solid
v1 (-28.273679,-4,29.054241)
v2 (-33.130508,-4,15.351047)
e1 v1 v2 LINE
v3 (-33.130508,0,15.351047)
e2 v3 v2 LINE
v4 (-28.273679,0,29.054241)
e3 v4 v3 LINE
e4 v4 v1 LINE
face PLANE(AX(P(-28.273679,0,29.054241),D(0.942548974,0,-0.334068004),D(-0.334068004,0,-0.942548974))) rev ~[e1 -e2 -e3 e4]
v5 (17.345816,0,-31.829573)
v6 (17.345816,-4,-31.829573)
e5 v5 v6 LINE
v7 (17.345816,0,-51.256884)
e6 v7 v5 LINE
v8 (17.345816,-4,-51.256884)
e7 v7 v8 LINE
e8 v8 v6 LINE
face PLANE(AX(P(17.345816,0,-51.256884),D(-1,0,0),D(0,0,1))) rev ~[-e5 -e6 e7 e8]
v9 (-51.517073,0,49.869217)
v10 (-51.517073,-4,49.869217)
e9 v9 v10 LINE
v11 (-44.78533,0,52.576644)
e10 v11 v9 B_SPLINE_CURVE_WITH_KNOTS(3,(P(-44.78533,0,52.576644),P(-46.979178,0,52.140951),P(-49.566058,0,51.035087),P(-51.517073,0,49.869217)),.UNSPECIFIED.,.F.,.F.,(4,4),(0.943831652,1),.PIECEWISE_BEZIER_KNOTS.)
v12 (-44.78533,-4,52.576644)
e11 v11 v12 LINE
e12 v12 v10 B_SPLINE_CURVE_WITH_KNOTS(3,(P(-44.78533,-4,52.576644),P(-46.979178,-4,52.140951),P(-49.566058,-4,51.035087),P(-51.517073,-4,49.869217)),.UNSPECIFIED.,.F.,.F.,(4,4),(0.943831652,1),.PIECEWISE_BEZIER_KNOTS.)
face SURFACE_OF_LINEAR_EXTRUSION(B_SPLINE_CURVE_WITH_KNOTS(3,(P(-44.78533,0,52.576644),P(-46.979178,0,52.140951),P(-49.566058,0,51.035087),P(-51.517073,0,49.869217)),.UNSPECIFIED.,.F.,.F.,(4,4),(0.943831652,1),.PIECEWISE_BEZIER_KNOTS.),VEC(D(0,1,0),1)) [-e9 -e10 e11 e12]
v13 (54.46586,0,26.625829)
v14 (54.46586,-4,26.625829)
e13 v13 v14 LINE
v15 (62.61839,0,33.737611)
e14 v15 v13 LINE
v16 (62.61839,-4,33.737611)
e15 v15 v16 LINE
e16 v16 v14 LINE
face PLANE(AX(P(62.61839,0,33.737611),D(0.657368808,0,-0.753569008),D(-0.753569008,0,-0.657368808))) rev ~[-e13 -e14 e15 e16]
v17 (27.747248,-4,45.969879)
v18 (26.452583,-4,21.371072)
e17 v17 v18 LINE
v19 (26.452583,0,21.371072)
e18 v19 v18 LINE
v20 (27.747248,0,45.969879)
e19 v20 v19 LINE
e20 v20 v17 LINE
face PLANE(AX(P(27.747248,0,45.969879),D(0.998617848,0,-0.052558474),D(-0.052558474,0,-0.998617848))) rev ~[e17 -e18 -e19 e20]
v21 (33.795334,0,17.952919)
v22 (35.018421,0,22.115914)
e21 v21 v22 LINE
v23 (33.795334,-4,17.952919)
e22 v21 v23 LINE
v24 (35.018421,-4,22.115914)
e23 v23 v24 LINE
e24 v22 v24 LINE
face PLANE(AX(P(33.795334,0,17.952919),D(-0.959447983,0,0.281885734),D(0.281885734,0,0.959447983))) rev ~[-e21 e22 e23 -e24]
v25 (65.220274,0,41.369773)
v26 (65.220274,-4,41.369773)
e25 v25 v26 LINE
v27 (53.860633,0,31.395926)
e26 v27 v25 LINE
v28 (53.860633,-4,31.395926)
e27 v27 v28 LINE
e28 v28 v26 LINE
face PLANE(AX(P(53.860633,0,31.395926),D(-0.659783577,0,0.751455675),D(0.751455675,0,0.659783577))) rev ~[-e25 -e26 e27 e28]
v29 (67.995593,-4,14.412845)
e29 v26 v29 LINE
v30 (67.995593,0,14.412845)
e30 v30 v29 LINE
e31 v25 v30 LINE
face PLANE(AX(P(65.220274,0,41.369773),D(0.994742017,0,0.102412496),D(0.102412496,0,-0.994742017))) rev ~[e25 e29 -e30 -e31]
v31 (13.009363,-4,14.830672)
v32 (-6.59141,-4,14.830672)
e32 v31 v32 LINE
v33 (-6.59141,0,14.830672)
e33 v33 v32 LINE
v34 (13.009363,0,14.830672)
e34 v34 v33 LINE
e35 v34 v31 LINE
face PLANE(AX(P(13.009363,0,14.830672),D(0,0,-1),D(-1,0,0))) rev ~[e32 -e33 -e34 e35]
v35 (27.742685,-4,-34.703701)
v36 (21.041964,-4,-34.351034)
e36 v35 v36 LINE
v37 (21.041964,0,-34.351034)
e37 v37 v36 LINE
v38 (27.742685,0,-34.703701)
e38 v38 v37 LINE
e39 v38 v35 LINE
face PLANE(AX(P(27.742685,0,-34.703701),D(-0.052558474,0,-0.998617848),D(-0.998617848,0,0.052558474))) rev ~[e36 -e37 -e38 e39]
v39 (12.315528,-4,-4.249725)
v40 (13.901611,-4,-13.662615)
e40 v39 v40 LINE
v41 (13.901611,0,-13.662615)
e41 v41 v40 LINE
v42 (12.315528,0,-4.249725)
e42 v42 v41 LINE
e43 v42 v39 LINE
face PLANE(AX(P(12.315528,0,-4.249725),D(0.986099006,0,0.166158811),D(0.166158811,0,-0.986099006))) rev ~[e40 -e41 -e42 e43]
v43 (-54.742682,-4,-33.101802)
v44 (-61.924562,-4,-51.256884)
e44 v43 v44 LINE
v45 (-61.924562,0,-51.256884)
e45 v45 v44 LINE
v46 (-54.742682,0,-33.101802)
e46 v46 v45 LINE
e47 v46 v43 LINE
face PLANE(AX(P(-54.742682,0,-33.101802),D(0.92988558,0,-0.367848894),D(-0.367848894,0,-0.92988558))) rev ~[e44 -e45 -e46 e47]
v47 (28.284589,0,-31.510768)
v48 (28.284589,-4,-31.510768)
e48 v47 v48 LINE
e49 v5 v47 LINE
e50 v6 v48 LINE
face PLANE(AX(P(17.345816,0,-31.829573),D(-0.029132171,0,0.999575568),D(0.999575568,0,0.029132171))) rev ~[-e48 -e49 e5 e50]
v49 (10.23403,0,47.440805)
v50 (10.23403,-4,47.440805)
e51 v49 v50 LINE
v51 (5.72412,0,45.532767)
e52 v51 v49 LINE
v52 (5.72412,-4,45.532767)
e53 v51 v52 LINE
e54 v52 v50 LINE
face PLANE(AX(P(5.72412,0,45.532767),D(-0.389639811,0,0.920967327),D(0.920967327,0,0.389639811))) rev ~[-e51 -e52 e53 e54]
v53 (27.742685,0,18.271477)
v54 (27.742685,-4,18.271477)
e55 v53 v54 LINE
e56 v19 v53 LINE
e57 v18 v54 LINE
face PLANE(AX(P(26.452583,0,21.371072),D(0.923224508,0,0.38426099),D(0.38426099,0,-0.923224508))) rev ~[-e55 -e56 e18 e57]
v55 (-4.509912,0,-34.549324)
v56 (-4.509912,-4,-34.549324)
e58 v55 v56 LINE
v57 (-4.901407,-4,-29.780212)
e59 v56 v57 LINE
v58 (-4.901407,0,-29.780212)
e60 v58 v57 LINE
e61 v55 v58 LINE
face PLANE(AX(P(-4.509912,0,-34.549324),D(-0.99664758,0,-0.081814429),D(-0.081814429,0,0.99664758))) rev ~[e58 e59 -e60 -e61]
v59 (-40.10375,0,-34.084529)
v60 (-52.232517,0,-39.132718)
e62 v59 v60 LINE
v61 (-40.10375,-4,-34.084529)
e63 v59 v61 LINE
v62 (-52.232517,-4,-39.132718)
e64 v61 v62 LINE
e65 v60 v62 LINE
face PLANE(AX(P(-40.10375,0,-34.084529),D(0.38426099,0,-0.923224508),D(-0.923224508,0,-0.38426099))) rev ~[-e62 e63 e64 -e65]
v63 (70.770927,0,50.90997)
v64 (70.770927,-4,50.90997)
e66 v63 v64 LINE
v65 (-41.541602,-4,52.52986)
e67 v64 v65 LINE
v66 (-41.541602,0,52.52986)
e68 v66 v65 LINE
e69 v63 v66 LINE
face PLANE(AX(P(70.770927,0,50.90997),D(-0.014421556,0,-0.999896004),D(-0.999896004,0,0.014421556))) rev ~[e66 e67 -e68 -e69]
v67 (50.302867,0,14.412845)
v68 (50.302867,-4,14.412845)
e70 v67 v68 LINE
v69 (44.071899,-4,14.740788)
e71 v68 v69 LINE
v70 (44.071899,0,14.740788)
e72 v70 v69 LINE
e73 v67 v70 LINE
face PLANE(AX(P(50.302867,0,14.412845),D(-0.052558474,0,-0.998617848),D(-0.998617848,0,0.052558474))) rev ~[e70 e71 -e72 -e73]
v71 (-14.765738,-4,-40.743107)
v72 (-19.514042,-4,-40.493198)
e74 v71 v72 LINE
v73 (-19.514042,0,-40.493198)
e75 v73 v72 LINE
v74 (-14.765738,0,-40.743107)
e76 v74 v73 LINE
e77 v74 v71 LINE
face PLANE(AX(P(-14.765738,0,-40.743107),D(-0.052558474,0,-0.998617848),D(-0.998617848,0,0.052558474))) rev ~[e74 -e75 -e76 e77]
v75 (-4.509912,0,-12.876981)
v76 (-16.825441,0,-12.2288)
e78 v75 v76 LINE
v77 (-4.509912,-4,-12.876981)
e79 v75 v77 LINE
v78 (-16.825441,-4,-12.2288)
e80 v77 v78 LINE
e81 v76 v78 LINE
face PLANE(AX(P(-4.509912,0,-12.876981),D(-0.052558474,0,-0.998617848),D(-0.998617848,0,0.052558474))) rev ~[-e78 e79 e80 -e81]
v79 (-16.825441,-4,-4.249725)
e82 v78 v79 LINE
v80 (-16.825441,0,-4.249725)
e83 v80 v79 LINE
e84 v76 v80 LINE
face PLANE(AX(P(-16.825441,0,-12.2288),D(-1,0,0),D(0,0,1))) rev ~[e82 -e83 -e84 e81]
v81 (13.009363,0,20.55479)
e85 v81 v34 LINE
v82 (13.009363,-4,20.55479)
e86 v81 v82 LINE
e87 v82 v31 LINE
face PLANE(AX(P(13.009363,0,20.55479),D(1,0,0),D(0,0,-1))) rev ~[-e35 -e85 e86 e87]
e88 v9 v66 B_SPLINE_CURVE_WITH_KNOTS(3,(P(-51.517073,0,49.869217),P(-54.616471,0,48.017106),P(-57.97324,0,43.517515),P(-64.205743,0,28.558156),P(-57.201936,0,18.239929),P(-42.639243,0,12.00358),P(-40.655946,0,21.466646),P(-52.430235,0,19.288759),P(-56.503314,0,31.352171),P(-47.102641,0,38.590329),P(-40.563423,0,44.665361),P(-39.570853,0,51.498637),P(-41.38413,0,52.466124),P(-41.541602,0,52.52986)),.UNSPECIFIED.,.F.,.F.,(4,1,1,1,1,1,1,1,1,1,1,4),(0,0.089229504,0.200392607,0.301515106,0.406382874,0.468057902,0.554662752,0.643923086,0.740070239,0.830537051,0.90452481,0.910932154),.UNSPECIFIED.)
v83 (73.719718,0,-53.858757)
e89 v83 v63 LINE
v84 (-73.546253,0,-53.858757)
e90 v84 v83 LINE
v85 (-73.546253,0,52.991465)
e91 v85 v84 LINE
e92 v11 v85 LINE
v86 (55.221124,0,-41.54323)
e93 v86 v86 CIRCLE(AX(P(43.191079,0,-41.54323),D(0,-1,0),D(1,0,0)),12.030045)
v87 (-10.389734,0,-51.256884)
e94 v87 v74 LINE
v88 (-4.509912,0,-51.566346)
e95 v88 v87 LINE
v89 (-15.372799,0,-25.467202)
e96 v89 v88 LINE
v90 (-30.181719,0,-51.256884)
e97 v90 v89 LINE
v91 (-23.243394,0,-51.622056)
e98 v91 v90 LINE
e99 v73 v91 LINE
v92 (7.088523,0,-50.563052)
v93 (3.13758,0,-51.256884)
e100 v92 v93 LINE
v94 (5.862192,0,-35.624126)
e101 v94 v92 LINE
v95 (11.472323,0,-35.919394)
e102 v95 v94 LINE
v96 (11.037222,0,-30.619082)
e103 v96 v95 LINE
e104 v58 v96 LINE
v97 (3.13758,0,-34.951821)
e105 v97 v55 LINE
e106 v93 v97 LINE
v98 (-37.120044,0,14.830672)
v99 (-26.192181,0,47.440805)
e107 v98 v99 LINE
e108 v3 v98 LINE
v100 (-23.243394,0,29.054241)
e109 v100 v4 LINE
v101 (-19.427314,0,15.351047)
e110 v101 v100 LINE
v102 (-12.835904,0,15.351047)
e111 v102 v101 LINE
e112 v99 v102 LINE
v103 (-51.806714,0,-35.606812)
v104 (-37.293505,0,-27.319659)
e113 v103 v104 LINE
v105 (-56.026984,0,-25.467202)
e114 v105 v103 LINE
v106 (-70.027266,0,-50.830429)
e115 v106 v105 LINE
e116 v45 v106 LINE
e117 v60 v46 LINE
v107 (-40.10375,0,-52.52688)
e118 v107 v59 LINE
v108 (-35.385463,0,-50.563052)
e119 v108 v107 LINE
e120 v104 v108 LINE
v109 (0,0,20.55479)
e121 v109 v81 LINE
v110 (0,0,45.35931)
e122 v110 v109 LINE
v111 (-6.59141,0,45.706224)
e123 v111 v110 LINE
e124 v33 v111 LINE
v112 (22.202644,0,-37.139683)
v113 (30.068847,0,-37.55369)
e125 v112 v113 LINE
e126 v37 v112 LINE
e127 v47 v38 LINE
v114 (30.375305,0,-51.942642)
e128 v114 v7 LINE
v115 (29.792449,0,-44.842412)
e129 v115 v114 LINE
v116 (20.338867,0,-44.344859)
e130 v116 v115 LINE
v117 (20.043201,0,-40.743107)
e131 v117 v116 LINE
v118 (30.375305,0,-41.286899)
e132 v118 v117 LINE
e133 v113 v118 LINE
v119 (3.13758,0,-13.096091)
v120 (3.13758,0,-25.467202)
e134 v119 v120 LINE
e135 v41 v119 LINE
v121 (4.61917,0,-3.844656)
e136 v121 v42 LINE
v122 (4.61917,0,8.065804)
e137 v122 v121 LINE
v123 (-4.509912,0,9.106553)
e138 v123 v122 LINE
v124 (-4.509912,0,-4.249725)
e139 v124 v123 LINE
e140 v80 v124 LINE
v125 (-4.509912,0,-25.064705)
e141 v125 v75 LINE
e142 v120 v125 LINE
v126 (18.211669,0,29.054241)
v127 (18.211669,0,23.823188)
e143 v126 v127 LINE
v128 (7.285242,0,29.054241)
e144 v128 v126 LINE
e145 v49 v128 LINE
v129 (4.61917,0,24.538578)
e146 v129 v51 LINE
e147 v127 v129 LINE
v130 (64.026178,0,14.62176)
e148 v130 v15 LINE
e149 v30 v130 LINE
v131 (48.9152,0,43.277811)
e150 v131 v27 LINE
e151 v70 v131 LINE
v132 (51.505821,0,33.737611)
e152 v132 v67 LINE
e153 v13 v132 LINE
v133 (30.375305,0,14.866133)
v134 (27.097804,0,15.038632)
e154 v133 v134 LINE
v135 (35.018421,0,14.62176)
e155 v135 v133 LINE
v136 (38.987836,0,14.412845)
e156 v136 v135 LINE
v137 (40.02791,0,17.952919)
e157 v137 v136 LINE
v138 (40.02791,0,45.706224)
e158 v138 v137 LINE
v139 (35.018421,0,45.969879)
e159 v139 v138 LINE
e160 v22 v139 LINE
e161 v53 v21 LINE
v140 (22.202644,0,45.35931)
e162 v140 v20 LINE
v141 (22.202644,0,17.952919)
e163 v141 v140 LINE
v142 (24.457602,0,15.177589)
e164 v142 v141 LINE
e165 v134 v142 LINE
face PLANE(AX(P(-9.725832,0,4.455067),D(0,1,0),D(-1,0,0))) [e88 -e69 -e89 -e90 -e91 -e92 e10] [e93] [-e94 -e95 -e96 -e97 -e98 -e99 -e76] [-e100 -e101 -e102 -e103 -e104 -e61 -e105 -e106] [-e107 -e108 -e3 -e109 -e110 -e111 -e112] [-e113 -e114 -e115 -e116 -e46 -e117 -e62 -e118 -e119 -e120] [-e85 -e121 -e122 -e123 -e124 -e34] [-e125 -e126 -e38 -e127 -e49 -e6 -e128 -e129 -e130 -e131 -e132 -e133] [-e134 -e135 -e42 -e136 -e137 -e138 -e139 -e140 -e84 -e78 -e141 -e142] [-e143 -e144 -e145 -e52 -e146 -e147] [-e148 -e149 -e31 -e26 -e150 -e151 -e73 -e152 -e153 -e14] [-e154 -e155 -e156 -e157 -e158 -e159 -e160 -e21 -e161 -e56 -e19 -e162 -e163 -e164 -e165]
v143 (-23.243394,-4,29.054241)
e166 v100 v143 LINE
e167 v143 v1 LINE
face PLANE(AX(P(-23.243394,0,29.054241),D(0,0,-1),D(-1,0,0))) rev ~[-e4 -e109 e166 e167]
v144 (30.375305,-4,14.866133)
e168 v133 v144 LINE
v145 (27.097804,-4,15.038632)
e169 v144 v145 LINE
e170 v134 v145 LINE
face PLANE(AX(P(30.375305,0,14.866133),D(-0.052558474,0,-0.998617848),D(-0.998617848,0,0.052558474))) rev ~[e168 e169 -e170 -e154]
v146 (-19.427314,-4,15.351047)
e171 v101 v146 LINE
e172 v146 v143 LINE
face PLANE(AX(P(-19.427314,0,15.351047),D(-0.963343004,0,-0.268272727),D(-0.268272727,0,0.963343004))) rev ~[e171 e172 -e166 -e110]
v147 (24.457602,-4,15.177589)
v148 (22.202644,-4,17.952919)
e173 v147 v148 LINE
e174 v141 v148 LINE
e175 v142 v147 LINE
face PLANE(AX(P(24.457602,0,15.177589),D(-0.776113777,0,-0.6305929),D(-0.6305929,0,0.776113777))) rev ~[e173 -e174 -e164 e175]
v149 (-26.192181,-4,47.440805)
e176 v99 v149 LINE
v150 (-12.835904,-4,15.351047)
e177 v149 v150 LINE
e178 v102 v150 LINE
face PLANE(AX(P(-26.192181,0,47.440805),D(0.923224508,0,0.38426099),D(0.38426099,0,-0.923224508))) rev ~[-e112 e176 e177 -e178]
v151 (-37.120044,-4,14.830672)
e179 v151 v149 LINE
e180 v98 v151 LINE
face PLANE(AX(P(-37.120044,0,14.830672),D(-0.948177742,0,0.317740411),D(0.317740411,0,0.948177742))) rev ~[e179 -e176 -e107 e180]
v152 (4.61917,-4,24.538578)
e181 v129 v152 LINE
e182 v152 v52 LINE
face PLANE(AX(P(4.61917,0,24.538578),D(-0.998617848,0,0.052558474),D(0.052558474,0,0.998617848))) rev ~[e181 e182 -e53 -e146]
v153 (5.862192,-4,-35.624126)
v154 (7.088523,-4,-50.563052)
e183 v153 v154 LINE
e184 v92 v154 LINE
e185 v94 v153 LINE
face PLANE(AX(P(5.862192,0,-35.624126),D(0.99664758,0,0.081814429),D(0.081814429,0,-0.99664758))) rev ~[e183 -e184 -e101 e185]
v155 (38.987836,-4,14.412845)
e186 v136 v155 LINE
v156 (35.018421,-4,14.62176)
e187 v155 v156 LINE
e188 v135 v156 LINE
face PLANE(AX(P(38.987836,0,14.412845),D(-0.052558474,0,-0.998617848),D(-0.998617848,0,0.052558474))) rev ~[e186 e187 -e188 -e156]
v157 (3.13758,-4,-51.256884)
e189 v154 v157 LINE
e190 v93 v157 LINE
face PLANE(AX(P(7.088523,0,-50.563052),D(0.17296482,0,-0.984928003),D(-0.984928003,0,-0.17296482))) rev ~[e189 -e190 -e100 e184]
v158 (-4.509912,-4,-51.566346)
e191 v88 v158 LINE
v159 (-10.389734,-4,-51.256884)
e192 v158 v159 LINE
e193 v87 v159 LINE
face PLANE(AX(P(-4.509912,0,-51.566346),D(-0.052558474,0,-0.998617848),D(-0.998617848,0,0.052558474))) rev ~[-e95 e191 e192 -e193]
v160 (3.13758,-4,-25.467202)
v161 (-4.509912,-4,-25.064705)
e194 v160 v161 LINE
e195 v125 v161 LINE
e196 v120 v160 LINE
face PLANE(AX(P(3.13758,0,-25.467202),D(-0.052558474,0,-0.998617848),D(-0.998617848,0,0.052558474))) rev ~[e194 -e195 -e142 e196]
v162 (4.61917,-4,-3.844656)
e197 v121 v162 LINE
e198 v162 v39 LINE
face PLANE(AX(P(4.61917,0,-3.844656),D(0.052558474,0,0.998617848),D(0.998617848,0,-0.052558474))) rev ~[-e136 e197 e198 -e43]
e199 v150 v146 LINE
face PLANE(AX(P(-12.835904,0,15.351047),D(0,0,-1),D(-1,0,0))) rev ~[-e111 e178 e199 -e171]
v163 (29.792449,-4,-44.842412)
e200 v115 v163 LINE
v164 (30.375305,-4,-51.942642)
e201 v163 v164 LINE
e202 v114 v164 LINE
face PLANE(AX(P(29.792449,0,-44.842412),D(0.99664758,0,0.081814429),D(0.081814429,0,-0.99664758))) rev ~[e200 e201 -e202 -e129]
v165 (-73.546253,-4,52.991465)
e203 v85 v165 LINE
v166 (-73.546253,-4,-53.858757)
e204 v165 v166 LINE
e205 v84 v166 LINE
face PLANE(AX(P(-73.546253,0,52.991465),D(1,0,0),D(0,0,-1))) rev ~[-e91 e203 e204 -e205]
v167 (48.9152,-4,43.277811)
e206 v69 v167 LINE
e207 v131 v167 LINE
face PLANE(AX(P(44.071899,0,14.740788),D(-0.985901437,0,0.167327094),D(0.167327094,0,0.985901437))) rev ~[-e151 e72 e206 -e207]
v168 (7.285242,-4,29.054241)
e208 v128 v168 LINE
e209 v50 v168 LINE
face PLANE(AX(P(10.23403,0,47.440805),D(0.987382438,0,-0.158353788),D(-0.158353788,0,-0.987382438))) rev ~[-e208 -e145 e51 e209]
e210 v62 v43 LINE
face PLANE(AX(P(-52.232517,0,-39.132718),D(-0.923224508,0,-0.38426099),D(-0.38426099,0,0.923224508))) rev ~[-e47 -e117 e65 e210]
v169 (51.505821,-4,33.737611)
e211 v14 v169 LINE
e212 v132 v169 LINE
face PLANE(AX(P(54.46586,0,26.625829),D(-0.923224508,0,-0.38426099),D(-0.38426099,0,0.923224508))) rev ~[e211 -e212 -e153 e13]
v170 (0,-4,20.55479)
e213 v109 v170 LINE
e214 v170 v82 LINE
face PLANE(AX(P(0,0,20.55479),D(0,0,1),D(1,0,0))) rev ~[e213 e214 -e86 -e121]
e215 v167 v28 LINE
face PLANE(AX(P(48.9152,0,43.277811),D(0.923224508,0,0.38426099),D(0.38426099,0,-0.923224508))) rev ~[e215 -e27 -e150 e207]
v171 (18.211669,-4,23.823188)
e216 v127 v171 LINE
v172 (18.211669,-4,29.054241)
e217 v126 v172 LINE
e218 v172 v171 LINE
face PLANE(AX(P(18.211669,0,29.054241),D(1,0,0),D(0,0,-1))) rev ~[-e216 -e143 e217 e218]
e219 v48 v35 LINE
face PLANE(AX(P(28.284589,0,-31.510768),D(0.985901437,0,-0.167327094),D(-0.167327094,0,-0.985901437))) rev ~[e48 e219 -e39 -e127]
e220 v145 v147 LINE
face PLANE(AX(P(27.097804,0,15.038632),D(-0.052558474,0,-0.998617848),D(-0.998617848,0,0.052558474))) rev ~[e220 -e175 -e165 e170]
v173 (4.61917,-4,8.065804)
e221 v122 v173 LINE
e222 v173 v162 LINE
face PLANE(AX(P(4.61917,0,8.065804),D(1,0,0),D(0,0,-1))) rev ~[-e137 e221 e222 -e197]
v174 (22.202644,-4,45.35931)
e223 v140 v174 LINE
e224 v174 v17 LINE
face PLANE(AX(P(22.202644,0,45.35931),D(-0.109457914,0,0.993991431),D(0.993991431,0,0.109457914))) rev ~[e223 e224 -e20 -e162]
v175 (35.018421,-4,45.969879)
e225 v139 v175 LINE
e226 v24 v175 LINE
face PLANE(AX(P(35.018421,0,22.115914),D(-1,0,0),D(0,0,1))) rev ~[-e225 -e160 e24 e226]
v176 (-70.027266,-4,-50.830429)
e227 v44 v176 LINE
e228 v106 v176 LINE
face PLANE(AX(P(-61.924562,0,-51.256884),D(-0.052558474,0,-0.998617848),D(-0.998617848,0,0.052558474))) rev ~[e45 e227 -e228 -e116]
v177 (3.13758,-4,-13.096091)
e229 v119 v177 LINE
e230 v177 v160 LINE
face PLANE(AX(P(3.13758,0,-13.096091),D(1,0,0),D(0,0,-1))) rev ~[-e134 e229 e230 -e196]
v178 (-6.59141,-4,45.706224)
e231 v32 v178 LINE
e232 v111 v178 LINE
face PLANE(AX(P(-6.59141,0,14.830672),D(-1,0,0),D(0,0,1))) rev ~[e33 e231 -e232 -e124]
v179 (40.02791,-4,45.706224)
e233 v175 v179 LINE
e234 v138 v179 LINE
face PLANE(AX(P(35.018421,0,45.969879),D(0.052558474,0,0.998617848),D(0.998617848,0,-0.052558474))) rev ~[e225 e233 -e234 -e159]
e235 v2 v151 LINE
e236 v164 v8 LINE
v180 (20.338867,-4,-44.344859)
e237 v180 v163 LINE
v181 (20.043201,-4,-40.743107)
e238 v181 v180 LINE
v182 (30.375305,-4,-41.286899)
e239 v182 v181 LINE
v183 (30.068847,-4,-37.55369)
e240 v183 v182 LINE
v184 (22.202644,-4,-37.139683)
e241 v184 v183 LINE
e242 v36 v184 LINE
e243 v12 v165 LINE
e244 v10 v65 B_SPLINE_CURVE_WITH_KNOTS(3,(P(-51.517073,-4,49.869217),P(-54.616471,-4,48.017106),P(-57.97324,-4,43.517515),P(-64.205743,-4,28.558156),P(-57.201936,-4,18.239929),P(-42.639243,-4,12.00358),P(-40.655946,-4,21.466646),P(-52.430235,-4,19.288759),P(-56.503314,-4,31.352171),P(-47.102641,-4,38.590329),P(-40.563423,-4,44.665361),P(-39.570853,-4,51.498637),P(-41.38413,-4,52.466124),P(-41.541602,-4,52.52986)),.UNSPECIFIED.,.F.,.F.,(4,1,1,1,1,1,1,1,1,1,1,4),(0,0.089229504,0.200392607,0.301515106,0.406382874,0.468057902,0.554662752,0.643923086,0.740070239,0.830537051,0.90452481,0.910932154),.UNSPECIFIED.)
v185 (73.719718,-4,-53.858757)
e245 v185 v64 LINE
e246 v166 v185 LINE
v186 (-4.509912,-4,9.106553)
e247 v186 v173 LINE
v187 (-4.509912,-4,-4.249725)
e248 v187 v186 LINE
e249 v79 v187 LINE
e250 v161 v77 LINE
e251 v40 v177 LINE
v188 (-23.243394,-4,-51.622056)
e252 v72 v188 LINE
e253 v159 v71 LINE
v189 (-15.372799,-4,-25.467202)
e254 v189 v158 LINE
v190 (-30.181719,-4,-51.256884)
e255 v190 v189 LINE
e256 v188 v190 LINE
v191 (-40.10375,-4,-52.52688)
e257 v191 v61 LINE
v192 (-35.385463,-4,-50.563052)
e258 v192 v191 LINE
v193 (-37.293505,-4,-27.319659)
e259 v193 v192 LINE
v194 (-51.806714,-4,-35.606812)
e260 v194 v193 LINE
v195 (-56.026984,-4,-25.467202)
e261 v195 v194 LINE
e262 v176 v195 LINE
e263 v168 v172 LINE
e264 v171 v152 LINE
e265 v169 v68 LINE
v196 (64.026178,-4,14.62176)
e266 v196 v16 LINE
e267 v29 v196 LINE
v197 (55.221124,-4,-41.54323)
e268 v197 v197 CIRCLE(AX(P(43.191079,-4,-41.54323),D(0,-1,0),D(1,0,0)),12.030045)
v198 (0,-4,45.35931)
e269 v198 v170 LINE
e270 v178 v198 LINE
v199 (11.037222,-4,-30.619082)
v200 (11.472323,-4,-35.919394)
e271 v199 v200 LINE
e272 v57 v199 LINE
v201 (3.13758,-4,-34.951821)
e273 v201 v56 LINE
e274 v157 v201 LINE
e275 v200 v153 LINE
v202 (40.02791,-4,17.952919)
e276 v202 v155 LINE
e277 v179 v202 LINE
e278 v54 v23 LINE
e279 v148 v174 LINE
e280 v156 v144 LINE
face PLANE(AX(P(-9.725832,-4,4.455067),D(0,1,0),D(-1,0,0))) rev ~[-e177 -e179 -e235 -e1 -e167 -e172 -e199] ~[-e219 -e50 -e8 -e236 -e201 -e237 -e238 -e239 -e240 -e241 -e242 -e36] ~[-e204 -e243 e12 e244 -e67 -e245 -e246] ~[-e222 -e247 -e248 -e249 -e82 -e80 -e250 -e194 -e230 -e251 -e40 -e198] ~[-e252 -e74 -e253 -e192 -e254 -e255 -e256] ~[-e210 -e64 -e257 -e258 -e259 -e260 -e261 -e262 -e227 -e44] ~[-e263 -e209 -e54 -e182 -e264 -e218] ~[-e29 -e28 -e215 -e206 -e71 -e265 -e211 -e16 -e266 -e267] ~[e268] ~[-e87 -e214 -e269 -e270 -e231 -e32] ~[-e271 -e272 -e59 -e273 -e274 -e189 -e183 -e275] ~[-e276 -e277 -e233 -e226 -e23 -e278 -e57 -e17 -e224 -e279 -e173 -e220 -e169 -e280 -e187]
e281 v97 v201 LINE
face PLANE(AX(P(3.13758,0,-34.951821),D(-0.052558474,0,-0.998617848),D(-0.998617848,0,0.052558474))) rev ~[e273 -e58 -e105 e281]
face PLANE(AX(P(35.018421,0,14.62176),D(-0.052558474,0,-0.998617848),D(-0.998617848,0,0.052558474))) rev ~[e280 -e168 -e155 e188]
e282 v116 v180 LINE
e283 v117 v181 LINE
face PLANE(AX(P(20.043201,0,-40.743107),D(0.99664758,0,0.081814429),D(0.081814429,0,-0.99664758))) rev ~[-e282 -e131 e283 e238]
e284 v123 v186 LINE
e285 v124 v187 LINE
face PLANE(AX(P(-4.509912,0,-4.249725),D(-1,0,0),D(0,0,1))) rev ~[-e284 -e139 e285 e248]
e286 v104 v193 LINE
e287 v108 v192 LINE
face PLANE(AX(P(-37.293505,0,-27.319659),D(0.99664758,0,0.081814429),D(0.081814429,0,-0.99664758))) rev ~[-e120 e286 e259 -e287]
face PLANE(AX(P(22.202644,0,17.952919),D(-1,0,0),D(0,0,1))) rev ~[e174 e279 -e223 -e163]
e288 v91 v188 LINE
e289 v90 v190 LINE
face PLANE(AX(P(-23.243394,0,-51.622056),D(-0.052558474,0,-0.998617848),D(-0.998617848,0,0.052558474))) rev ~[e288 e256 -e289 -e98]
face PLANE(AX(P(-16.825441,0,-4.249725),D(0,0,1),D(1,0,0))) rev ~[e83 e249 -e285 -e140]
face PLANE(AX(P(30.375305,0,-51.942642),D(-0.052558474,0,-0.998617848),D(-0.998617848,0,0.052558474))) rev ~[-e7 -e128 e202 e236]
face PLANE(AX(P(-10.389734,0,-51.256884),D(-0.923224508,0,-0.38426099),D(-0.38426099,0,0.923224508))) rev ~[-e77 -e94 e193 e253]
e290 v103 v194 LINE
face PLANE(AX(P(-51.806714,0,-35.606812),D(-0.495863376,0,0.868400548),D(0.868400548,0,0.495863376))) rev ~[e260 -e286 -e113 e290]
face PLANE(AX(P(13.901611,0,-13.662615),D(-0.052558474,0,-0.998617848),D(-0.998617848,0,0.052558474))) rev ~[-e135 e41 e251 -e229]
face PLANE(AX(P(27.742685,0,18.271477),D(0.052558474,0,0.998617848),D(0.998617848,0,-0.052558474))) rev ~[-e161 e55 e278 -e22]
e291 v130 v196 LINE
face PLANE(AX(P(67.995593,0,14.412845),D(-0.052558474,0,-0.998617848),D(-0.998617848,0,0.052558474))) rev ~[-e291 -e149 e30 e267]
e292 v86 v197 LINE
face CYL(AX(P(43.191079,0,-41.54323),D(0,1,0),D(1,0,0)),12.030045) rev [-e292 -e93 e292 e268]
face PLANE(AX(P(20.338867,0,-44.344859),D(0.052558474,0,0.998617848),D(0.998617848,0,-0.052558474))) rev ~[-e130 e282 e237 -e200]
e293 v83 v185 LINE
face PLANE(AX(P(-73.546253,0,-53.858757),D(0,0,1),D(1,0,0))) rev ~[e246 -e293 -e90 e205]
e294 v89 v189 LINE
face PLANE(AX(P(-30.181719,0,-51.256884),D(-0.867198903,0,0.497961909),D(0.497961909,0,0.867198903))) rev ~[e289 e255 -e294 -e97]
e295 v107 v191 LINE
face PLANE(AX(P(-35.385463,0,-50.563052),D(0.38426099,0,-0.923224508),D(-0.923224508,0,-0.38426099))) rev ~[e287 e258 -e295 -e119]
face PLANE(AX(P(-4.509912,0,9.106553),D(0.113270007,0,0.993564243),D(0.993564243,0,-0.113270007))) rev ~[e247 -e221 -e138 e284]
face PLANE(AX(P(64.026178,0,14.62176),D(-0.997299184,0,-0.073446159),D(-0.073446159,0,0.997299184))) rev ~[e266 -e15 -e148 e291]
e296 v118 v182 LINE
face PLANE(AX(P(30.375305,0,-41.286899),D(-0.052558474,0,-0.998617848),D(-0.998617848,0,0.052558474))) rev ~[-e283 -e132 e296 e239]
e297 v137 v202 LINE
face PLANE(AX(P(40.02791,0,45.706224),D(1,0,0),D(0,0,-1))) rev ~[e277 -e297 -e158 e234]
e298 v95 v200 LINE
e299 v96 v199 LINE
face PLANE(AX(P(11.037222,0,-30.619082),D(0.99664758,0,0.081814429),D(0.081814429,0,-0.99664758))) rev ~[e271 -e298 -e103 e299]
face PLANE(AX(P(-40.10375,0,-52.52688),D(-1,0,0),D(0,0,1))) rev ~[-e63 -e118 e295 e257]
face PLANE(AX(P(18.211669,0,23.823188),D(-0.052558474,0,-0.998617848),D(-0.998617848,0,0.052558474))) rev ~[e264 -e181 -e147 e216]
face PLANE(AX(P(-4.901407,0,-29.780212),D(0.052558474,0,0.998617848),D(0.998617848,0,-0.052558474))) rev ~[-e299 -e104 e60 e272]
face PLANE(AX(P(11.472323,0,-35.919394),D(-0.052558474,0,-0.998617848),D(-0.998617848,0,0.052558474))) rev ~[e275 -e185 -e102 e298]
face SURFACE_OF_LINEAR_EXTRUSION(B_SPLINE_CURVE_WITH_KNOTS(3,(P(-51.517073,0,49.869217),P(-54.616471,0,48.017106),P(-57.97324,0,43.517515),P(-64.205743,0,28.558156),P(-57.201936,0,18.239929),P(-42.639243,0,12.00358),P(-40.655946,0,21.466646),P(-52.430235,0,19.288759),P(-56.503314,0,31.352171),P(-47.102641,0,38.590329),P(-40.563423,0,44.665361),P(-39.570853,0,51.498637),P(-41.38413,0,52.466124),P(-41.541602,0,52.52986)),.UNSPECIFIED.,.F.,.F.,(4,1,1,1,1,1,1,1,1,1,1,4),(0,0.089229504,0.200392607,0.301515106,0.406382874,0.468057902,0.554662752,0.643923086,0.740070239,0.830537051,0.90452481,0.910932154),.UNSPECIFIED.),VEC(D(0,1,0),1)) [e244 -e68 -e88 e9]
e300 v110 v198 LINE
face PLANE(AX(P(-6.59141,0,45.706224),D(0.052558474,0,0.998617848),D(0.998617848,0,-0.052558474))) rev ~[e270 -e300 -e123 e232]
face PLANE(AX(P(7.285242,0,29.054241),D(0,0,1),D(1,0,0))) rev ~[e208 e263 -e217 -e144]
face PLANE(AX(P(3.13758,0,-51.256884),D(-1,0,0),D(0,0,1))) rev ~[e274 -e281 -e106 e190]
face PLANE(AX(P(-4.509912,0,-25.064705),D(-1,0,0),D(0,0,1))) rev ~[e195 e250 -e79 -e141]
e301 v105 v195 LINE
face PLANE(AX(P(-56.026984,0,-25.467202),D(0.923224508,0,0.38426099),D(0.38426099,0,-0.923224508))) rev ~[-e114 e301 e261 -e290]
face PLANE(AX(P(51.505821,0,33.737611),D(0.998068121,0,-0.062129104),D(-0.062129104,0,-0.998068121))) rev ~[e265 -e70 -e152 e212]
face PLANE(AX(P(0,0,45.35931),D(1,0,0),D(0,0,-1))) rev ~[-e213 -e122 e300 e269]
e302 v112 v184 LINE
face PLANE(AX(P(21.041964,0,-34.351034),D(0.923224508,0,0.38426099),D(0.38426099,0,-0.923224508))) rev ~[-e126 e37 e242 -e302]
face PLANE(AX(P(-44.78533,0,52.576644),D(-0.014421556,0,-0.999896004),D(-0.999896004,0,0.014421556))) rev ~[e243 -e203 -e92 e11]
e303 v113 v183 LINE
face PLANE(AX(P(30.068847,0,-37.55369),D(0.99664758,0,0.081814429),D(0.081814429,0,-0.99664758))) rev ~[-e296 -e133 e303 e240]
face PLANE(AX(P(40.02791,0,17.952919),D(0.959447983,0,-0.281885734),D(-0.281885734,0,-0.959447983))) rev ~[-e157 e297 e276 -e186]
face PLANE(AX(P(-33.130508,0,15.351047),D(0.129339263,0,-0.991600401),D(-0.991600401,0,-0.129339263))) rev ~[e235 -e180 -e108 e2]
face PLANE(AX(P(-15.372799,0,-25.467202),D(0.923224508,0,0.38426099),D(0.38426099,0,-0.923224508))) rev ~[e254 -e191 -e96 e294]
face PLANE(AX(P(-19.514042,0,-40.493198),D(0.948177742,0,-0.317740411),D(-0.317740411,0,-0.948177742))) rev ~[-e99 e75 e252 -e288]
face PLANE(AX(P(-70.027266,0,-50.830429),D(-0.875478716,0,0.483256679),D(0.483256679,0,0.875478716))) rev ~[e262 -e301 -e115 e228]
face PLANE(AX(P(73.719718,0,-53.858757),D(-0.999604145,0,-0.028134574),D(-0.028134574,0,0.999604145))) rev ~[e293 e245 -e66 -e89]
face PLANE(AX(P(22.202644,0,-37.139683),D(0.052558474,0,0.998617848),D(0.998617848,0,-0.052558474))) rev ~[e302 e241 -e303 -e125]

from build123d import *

# Parameters (mm, degrees)
F0_R     = 12.0300445465
F1_DEPTH = 4


with BuildPart() as f1:
    # F0 (on Front) → F1 (new body)
    with BuildSketch(Plane.XZ):
        with BuildLine():
            add(Edge.make_bspline(
                [(-51.517073065, 49.8692169785), (-54.6164711836, 48.0171055955), (-57.9732397932, 43.5175145949), (-64.2057426047, 28.5581561909), (-57.2019356759, 18.2399288793), (-42.6392432026, 12.0035799105), (-40.6559459772, 21.4666461937), (-52.4302351144, 19.2887594481), (-56.5033140512, 31.3521706241), (-47.1026408721, 38.590328812), (-40.563423389, 44.665361185), (-39.5708533621, 51.4986371042), (-41.384129942, 52.466124391), (-41.5416015443, 52.5298598494)],
                knots=[0, 0, 0, 0, 0.0892295044, 0.2003926069, 0.3015151058, 0.4063828736, 0.4680579017, 0.5546627521, 0.6439230859, 0.7400702389, 0.8305370512, 0.9045248096, 0.910932154, 0.910932154, 0.910932154, 0.910932154], degree=3))
            add(Edge.make_bspline(
                [(-44.7853297013, 52.5766443225), (-46.9791784585, 52.1409512456), (-49.5660584078, 51.0350873563), (-51.517073065, 49.8692169785)],
                knots=[0.9438316523, 0.9438316523, 0.9438316523, 0.9438316523, 1, 1, 1, 1], degree=3))
            Line((-44.7853297013, 52.5766443225), (-73.5462531447, 52.9914647341))
            Line((-73.5462531447, 52.9914647341), (-73.5462531447, -53.858757019))
            Line((-73.5462531447, -53.858757019), (73.7197175622, -53.858757019))
            Line((73.7197175622, -53.858757019), (70.7709267735, 50.9099699557))
            Line((70.7709267735, 50.9099699557), (-41.5416015443, 52.5298598494))
        make_face()
        Polygon((-54.742681822, -33.1018022917), (-61.9245618582, -51.2568838894), (-70.0272659035, -50.8304287042), (-56.0269840062, -25.4672017798), (-51.8067139403, -35.6068122516), (-37.2935049236, -27.3196585476), (-35.3854633868, -50.5630522966), (-40.1037498307, -52.5268795163), (-40.1037498307, -34.0845286846), (-52.2325170484, -39.1327179979), align=None, mode=Mode.SUBTRACT)
        Polygon((-23.243393749, -51.6220563997), (-30.1817189902, -51.2568838894), (-15.3727987967, -25.4672017798), (-4.5099123381, -51.5663460455), (-10.389733597, -51.2568838894), (-14.7657376005, -40.7431074425), (-19.5140424185, -40.4931983751), align=None, mode=Mode.SUBTRACT)
        Polygon((-4.5099123381, -4.2497245595), (-4.5099123381, 9.1065531597), (4.6191702269, 8.0658039078), (4.6191702269, -3.844655849), (12.3155284673, -4.2497245595), (13.9016113445, -13.6626154192), (3.1375800291, -13.0960913375), (3.1375800291, -25.4672017798), (-4.5099123381, -25.0647049397), (-4.5099123381, -12.8769812753), (-16.8254412711, -12.2287999839), (-16.8254412711, -4.2497245595), align=None, mode=Mode.SUBTRACT)
        Polygon((7.0885231353, -50.5630522966), (3.1375800291, -51.2568838894), (3.1375800291, -34.9518209696), (-4.5099123381, -34.5493241295), (-4.9014069475, -29.7802123571), (11.0372224126, -30.6190818379), (11.4723230555, -35.9193938953), (5.8621922288, -35.6241258751), align=None, mode=Mode.SUBTRACT)
        Polygon((17.345815897, -51.2568838894), (17.345815897, -31.8295732141), (28.284589117, -31.5107676877), (27.7426847126, -34.7037014665), (21.0419639668, -34.3510343703), (22.2026444972, -37.1396825555), (30.068846952, -37.5536903739), (30.3753046295, -41.2868986558), (20.0432007723, -40.7431074425), (20.3388671789, -44.3448585447), (29.7924494209, -44.8424120951), (30.3753046295, -51.942641755), align=None, mode=Mode.SUBTRACT)
        with Locations((43.1910790503, -41.5432304144)):
            Circle(F0_R, mode=Mode.SUBTRACT)
        Polygon((-33.1305079162, 15.3510468081), (-37.1200442314, 14.8306721821), (-26.1921808124, 47.4408045411), (-12.8359040245, 15.3510468081), (-19.4273144007, 15.3510468081), (-23.243393749, 29.0542412549), (-28.273679316, 29.0542412549), align=None, mode=Mode.SUBTRACT)
        Polygon((-6.5914099105, 14.8306721821), (-6.5914099105, 45.7062236965), (0, 45.3593097627), (0, 20.5547902733), (13.0093628541, 20.5547902733), (13.0093628541, 14.8306721821), align=None, mode=Mode.SUBTRACT)
        Polygon((4.6191702269, 24.5385780509), (5.7241199538, 45.5327667296), (10.2340299636, 47.4408045411), (7.2852415033, 29.0542412549), (18.2116690355, 29.0542412549), (18.2116690355, 23.8231882791), align=None, mode=Mode.SUBTRACT)
        Polygon((22.2026444972, 17.9529190063), (22.2026444972, 45.3593097627), (27.7472484163, 45.9698791885), (26.4525832232, 21.3710719499), (27.7426847126, 18.2714772869), (33.7953335203, 17.9529190063), (35.0184211311, 22.1159141511), (35.0184211311, 45.9698791885), (40.0279098077, 45.7062236965), (40.0279098077, 33.7376110256), (40.0279098077, 24.5385780509), (40.0279098077, 17.9529190063), (38.9878363627, 14.4128449646), (35.0184211311, 14.6217601241), (30.3753046295, 14.8661330021), (27.0978043062, 15.0386318371), (24.4576018304, 15.1775889099), align=None, mode=Mode.SUBTRACT)
        Polygon((51.5058212146, 33.7376110256), (50.3028668463, 14.4128449646), (44.0718992423, 14.7407883806), (48.9151999354, 43.277811259), (53.8606331153, 31.3959256746), (65.2202740312, 41.3697734475), (67.9955929518, 14.4128449646), (64.0261777202, 14.6217601241), (62.6183897257, 33.7376110256), (54.4658601284, 26.6258288175), align=None, mode=Mode.SUBTRACT)
    extrude(amount=F1_DEPTH)


solid = f1.part
